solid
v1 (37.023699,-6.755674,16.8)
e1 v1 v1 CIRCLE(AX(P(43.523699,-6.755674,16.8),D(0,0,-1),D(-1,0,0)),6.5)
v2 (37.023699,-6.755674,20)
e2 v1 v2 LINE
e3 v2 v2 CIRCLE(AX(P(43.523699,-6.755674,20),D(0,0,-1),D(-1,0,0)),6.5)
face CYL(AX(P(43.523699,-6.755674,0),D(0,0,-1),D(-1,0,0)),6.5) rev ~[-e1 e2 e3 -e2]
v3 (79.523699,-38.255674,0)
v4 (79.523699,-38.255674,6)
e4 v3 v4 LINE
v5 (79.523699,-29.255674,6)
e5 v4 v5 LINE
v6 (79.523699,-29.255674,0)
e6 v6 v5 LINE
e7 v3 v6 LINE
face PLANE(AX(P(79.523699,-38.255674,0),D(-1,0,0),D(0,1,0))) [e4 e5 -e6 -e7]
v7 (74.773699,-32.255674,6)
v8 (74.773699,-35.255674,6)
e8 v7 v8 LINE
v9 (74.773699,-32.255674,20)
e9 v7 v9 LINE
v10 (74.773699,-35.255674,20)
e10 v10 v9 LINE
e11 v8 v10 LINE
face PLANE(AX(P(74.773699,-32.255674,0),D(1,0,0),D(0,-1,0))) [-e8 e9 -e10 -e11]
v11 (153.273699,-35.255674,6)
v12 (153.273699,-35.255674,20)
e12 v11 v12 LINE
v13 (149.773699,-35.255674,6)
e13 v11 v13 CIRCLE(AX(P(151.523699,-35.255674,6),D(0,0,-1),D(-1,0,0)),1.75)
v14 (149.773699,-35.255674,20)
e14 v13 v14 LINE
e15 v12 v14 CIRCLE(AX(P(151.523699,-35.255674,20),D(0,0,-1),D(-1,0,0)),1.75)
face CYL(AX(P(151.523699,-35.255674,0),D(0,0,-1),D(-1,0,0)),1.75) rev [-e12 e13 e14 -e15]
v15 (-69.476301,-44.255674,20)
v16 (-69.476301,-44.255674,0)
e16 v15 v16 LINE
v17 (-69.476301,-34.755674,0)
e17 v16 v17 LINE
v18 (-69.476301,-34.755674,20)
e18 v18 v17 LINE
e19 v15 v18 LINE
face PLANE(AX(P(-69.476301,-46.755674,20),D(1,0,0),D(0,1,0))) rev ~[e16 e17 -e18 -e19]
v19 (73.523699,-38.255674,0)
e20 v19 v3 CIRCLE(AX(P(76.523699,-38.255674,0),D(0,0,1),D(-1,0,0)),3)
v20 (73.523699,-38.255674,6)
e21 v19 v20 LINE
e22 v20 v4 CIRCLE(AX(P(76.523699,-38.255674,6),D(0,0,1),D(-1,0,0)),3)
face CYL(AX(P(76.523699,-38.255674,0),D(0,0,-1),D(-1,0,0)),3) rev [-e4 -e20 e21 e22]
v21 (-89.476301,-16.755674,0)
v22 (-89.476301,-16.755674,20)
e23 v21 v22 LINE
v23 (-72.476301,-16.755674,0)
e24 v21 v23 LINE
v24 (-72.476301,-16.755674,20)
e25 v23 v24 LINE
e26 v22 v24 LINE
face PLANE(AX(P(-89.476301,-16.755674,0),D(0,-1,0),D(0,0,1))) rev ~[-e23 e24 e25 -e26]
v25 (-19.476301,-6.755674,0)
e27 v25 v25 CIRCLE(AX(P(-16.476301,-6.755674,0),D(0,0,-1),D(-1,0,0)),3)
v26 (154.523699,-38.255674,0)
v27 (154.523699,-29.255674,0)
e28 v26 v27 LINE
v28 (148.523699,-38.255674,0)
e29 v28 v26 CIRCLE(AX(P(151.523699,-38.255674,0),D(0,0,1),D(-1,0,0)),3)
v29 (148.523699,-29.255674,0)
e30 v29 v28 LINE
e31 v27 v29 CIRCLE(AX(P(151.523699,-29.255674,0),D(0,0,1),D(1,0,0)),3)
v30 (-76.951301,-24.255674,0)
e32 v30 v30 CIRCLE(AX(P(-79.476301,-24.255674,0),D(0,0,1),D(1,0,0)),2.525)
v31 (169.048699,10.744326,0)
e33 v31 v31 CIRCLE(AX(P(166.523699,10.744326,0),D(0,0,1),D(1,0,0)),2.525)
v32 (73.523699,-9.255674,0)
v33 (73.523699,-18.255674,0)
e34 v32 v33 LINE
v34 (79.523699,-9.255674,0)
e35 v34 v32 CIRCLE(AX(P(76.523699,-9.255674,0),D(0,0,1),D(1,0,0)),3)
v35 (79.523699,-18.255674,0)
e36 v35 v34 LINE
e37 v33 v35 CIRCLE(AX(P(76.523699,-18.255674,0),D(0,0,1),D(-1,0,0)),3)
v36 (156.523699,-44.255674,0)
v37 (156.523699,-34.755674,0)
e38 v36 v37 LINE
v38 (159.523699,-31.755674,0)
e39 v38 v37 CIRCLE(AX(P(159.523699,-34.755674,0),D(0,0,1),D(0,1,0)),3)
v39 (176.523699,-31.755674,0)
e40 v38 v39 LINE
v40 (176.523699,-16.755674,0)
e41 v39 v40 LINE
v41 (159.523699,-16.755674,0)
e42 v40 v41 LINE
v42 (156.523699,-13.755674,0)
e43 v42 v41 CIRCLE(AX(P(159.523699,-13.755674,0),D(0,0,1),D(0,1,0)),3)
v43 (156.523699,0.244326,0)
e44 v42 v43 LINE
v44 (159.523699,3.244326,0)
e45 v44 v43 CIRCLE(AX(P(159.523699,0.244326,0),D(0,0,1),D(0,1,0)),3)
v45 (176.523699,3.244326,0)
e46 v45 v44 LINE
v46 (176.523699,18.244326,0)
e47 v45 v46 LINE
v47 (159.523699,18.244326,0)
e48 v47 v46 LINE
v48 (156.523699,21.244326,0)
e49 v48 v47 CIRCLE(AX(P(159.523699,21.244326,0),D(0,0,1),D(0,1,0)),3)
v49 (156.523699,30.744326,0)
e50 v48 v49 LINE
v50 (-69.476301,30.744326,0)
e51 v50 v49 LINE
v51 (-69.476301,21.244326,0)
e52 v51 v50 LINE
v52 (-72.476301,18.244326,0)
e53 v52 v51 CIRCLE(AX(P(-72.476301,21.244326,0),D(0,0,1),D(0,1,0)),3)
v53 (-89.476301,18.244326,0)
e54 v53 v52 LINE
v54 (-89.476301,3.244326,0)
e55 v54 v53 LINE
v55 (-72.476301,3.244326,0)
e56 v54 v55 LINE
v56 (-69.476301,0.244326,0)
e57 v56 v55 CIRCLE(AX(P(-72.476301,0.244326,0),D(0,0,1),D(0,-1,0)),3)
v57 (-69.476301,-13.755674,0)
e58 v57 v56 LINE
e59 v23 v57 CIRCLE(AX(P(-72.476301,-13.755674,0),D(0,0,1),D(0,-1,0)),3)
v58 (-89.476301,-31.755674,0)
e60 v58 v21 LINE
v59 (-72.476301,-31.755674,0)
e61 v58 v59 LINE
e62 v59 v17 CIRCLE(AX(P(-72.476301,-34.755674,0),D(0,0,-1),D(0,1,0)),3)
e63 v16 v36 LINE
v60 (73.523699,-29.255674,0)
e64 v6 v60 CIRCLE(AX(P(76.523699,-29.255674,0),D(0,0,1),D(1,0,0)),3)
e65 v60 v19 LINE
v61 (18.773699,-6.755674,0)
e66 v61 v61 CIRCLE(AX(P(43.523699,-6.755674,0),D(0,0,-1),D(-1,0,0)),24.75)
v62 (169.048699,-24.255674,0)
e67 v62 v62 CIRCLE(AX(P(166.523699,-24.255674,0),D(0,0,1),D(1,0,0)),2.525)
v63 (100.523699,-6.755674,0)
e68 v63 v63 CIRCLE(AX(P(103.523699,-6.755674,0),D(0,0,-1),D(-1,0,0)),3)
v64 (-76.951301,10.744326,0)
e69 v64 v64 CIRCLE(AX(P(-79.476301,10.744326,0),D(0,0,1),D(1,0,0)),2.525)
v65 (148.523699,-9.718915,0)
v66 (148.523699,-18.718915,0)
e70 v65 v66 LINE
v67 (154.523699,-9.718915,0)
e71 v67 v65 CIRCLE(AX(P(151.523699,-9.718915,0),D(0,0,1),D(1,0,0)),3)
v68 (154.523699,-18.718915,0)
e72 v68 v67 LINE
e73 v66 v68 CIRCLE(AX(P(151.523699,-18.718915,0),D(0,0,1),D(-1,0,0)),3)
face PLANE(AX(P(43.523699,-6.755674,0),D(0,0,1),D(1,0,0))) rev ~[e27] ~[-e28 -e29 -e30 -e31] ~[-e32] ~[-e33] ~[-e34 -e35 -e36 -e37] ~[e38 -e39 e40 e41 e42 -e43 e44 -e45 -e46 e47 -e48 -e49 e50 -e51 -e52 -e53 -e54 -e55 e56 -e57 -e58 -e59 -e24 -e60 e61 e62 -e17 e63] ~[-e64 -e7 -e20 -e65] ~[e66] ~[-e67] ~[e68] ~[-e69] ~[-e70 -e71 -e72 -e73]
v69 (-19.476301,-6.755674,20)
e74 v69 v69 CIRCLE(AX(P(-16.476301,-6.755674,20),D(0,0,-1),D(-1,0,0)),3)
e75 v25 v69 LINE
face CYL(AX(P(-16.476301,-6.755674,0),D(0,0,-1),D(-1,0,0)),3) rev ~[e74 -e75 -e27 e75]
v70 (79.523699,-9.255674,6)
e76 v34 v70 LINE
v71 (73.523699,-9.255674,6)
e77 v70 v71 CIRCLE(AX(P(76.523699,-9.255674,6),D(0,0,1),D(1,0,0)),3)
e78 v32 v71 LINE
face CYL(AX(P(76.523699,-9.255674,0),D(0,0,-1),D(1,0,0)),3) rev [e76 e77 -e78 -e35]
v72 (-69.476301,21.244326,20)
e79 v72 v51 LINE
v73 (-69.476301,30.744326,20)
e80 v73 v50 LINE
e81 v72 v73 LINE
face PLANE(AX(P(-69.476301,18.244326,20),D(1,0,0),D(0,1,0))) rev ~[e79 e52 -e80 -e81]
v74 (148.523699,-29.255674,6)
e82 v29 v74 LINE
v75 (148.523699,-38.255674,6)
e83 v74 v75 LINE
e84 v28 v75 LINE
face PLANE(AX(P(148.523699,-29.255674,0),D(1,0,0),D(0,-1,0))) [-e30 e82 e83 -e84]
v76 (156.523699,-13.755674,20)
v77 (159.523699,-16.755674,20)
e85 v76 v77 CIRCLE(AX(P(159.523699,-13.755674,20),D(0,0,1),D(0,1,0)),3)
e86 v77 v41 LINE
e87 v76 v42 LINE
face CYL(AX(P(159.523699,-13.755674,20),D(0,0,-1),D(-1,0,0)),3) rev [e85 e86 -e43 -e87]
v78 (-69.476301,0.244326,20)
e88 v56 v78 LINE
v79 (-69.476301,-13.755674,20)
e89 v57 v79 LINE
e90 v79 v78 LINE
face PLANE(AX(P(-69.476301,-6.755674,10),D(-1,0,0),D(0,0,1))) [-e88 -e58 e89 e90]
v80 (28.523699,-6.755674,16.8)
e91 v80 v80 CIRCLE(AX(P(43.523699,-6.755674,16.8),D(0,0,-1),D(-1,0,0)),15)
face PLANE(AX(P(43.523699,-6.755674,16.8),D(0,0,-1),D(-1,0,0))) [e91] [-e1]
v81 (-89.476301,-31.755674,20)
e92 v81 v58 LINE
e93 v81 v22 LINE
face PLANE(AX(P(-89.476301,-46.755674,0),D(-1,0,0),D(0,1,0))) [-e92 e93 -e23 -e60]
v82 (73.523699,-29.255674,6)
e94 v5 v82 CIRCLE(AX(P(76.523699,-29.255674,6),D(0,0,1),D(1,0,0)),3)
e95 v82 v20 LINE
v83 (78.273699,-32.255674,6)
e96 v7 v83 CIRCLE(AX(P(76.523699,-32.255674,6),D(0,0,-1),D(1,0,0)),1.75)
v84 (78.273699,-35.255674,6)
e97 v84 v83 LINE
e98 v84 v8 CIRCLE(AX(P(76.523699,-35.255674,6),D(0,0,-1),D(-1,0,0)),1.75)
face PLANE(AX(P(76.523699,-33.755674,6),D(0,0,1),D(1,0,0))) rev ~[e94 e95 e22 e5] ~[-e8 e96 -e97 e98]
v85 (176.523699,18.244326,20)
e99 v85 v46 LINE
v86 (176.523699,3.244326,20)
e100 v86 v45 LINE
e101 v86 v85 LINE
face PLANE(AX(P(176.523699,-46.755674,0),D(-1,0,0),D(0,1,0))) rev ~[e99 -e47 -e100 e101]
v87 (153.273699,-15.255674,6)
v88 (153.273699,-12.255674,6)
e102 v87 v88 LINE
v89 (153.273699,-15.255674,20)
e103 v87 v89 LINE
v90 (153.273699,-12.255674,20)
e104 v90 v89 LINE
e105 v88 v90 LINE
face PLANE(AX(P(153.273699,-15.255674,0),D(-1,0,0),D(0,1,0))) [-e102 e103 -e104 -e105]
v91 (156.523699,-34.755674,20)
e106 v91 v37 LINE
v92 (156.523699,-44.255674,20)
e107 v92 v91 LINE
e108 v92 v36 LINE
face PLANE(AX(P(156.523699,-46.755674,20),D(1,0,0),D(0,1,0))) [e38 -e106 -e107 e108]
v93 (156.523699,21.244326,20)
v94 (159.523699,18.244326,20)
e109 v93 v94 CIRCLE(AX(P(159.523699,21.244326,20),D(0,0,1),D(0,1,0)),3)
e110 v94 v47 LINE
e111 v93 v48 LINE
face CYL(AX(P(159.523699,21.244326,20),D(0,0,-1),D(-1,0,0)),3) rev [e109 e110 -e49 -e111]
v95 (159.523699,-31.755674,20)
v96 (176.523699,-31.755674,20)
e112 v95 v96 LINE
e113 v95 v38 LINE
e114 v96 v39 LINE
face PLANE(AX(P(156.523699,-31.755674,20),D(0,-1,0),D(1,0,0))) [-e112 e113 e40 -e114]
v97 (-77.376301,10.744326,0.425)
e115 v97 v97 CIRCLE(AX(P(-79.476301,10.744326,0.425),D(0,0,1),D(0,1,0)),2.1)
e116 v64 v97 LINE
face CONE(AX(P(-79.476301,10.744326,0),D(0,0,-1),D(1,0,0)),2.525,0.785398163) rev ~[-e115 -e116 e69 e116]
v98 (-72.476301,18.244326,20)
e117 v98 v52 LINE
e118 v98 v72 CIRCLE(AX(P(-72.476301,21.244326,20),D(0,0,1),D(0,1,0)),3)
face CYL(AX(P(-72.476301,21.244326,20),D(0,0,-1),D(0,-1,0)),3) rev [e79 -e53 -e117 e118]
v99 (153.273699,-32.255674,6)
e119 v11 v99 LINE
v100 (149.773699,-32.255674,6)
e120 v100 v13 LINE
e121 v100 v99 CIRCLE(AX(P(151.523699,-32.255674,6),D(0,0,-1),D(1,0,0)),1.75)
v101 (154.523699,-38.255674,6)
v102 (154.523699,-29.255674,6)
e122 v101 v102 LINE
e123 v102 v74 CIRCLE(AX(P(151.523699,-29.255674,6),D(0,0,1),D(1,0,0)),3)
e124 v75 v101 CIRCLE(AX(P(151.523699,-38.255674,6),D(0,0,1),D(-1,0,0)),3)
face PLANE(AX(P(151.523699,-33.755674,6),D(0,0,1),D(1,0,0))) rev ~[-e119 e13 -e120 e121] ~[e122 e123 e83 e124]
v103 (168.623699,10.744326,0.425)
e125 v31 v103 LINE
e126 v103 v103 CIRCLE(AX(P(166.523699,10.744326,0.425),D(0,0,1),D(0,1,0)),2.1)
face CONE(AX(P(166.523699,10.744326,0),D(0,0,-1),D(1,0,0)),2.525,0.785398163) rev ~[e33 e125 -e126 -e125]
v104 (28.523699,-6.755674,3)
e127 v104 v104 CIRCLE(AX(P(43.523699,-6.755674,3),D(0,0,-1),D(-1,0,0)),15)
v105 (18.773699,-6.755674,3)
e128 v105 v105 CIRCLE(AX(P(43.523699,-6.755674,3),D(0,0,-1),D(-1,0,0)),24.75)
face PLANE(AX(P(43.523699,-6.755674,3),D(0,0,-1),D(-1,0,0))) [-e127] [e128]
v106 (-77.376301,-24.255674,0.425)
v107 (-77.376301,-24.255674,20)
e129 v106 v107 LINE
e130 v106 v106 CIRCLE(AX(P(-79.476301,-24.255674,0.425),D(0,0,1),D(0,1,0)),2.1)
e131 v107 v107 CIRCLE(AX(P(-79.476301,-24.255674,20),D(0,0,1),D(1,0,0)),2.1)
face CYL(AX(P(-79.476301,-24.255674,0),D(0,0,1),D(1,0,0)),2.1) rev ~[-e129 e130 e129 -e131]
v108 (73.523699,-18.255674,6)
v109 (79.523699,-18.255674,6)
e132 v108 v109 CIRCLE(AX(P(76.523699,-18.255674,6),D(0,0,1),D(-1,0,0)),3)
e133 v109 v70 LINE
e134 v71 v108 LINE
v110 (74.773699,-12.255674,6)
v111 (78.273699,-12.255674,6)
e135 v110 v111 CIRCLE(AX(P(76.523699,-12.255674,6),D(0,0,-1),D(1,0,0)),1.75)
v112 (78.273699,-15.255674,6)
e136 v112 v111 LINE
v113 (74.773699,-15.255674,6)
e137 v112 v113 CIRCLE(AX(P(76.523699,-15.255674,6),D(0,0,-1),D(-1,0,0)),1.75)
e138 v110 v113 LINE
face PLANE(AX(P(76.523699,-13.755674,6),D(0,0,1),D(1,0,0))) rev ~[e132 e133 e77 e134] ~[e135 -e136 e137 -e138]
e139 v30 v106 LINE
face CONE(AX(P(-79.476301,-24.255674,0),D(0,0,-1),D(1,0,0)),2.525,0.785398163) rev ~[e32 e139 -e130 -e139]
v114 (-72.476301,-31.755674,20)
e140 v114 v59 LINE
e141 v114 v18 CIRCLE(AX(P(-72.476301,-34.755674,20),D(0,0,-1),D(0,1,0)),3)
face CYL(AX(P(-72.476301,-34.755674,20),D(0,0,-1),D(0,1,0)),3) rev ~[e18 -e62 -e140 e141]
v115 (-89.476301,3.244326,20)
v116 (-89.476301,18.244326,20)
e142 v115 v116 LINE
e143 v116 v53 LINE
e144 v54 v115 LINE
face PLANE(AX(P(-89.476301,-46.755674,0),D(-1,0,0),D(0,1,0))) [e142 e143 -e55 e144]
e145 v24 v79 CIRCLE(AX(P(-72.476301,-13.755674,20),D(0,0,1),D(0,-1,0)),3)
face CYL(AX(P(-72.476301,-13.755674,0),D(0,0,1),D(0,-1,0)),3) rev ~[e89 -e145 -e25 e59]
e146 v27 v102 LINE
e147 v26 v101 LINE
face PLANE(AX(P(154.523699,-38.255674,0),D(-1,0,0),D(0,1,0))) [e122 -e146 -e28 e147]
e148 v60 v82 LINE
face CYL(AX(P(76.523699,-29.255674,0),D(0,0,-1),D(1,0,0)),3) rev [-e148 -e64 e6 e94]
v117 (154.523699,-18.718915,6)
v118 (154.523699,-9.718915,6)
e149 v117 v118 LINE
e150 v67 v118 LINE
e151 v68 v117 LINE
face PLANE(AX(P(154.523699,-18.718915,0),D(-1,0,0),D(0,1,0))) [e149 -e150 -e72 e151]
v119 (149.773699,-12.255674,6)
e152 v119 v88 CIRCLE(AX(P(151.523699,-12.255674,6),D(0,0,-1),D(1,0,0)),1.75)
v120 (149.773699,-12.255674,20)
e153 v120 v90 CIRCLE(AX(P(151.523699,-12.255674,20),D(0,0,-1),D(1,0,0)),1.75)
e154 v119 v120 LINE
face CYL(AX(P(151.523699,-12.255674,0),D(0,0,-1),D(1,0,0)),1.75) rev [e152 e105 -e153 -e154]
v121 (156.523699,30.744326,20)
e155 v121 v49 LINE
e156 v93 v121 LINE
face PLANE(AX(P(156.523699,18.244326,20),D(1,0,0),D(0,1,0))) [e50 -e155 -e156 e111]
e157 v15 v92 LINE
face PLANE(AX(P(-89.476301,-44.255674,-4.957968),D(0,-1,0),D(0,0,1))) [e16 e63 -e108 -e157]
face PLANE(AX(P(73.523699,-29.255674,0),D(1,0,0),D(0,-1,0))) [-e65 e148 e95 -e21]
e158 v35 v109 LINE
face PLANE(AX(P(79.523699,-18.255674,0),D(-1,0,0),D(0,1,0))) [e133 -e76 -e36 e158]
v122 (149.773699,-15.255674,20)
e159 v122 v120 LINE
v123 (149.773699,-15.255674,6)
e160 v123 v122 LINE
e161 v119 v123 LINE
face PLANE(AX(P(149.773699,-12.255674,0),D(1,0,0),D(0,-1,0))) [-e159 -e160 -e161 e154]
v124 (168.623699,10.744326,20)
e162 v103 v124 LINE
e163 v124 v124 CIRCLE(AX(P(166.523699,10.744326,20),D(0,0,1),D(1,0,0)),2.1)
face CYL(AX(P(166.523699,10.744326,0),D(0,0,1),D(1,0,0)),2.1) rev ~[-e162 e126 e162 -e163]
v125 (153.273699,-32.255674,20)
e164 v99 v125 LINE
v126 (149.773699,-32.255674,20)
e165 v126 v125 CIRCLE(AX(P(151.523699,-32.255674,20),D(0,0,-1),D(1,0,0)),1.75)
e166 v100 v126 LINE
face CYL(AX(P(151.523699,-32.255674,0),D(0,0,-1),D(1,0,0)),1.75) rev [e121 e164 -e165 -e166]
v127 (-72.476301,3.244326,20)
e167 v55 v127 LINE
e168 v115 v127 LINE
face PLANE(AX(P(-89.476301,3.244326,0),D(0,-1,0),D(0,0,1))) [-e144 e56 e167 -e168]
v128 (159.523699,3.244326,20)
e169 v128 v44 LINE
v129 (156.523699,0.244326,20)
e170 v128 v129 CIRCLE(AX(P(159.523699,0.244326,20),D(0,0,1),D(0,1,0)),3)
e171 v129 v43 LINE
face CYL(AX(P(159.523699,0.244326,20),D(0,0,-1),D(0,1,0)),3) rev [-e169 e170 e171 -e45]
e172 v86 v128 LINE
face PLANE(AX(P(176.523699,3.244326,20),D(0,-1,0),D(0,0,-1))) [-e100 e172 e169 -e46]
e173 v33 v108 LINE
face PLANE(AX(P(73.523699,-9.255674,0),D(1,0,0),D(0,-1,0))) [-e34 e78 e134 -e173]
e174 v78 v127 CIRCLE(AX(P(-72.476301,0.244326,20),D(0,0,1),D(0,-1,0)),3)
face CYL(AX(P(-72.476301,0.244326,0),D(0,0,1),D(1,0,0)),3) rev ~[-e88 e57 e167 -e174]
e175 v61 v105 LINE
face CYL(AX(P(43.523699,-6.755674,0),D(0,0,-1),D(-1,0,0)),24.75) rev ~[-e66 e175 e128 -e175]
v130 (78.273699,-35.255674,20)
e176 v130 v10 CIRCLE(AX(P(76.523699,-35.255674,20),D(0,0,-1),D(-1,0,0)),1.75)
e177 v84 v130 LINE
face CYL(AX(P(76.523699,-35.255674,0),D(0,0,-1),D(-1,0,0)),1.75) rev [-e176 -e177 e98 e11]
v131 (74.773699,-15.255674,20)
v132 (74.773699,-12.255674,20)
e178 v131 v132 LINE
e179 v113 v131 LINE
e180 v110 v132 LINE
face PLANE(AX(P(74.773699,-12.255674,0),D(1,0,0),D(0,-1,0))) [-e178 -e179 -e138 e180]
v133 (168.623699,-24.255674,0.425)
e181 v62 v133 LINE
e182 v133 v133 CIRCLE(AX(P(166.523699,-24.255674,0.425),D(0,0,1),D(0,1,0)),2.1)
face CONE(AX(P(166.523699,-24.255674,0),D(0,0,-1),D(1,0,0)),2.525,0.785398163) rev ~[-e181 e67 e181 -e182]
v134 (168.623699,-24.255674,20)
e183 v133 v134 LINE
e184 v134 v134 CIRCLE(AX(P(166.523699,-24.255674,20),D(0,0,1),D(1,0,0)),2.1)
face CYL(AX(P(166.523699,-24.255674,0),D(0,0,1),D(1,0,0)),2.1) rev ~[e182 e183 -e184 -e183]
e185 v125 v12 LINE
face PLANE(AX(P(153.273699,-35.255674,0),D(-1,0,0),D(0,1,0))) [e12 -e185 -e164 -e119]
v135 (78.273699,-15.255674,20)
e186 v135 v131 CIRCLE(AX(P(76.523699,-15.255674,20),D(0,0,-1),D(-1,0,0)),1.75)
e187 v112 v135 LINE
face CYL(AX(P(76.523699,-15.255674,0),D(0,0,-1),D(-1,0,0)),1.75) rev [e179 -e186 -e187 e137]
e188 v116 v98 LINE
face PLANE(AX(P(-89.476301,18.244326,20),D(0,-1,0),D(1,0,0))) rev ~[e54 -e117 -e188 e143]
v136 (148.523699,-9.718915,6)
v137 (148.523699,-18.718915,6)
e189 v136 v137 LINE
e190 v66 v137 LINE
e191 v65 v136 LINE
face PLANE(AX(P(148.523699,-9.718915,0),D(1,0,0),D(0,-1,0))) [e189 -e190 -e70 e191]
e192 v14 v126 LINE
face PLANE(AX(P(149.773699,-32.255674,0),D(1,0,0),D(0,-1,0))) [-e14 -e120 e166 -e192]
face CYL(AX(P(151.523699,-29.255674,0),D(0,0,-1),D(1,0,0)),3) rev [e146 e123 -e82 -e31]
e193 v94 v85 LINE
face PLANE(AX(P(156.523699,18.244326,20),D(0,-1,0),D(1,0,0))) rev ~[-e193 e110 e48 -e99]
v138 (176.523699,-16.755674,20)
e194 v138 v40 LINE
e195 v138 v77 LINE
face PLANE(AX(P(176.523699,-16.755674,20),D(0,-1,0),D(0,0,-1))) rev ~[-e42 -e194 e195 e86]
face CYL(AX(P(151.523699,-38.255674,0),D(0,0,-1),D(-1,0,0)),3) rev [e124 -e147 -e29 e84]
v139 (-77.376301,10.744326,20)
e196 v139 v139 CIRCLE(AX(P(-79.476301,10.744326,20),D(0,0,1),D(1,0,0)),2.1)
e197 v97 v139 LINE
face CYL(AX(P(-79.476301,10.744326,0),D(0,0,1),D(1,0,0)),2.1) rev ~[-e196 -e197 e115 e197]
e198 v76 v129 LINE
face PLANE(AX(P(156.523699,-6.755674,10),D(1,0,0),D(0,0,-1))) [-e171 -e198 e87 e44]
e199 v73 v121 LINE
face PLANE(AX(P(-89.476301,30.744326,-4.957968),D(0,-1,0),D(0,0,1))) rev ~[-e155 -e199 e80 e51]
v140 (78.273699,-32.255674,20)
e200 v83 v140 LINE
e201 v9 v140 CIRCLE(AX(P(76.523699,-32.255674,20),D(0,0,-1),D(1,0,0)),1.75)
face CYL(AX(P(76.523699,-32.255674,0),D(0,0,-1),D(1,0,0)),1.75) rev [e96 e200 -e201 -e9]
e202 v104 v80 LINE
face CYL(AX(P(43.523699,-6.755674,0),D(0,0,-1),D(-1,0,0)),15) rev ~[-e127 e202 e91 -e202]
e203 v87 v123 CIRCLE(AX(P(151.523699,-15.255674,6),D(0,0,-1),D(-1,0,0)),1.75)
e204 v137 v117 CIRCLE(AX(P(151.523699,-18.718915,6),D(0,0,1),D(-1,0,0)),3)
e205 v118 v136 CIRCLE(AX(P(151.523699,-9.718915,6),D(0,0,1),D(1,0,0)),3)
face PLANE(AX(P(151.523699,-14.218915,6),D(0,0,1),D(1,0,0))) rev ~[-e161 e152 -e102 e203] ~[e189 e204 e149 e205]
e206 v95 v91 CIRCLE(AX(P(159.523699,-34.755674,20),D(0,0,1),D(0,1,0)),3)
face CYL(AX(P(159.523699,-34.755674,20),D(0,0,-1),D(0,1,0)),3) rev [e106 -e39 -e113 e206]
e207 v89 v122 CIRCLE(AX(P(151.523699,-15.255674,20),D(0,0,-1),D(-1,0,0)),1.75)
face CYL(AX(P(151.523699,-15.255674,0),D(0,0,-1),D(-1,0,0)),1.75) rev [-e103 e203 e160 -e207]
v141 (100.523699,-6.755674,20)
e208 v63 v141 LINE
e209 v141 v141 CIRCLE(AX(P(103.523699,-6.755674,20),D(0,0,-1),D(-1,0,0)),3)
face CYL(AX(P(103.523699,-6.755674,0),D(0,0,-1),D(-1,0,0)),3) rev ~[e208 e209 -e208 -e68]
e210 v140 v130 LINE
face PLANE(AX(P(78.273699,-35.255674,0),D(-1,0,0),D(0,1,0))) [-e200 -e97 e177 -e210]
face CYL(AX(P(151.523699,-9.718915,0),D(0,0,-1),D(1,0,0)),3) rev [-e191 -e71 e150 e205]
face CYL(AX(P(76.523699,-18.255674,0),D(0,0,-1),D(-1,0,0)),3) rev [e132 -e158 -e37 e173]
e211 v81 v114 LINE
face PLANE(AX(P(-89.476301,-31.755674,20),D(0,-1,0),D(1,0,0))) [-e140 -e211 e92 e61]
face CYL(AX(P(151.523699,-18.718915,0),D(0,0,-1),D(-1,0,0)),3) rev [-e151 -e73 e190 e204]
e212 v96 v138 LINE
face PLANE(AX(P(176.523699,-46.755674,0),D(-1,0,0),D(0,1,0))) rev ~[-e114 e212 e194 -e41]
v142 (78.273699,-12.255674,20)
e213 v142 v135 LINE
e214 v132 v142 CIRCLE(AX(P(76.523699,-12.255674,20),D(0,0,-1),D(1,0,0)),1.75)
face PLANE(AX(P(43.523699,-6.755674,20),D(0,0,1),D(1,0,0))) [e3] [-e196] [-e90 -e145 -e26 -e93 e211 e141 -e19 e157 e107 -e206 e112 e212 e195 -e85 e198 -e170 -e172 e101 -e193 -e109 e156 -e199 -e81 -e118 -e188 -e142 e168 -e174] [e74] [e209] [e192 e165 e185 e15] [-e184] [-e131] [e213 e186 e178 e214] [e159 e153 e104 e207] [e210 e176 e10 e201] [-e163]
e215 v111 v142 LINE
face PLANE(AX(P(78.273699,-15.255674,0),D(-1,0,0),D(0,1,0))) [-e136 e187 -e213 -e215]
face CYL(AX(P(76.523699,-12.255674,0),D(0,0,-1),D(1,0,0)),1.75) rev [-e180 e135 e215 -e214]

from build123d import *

# Parameters (mm, degrees)
SKIZZE1_W                        = 266
SKIZZE1_H                        = 80
AUFSATZ_LINEAR_AUSTRAGEN1_DEPTH  = 20
SKIZZE4_R                        = 6.5
SCHNITT_LINEAR_AUSTRAGEN1_DEPTH  = 20
SKIZZE9_R                        = 15
SCHNITT_LINEAR_AUSTRAGEN5_DEPTH  = 16.8
SKIZZE10_W                       = 20
SKIZZE10_H                       = 15
SCHNITT_LINEAR_AUSTRAGEN6_DEPTH  = 24.3
SKIZZE11_W                       = 91.383535354
SKIZZE11_H                       = 106.650454953
SKIZZE11_W_2                     = 30.220228655
SKIZZE11_H_2                     = 75
SCHNITT_LINEAR_AUSTRAGEN7_DEPTH  = 304.3
SKIZZE12_R                       = 24.75
SCHNITT_LINEAR_AUSTRAGEN8_DEPTH  = 3
SKIZZE13_W                       = 20
SKIZZE13_H                       = 20
SCHNITT_LINEAR_AUSTRAGEN10_DEPTH = 20
VERRUNDUNG1_R                    = 3
SKIZZE14_W                       = 20
SKIZZE14_H                       = 20
SCHNITT_LINEAR_AUSTRAGEN11_DEPTH = 20
VERRUNDUNG2_R                    = 3
SKIZZE15_R                       = 2
SCHNITT_LINEAR_AUSTRAGEN12_DEPTH = 20
M5_GEWINDEBOHRUNG1_D             = 4.2
M5_GEWINDEBOHRUNG1_CSINK_D       = 5.05
M5_GEWINDEBOHRUNG1_CSINK_ANGLE   = 90
SCHNITT_LINEAR_AUSTRAGEN13_DEPTH = 30
SCHNITT_LINEAR_AUSTRAGEN14_DEPTH = 6
SKIZZE19_R                       = 3
SCHNITT_LINEAR_AUSTRAGEN15_DEPTH = 20


with BuildPart() as part:
    # Skizze1 → Aufsatz-Linear austragen1 (new body)
    with BuildSketch(Plane.XY):
        with Locations((43.523698588, -6.755674232)):
            Rectangle(SKIZZE1_W, SKIZZE1_H)
    extrude(amount=AUFSATZ_LINEAR_AUSTRAGEN1_DEPTH)

    # Skizze4 → Schnitt-Linear austragen1 (cut)
    with BuildSketch(Plane(origin=(0, 0, 0), x_dir=(-1, 0, 0), z_dir=(0, 0, -1))):
        with Locations((-43.523698588, -6.755674232)):
            Circle(SKIZZE4_R)
    extrude(amount=-SCHNITT_LINEAR_AUSTRAGEN1_DEPTH, mode=Mode.SUBTRACT)

    # Skizze9 → Schnitt-Linear austragen5 (cut)
    with BuildSketch(Plane(origin=(0, 0, 0), x_dir=(-1, 0, 0), z_dir=(0, 0, -1))):
        with Locations((-43.523698588, -6.755674232)):
            Circle(SKIZZE9_R)
    extrude(amount=-SCHNITT_LINEAR_AUSTRAGEN5_DEPTH, mode=Mode.SUBTRACT)

    # Skizze10 → Schnitt-Linear austragen6 (cut)
    with BuildSketch(Plane.XY.offset(20)):
        with Locations((-79.476301412, 25.744325768)):
            Rectangle(SKIZZE10_W, SKIZZE10_H)
        with Locations((-79.476301412, -39.255674232)):
            Rectangle(SKIZZE10_W, SKIZZE10_H)
        with Locations((166.523698588, -39.255674232)):
            Rectangle(SKIZZE10_W, SKIZZE10_H)
        with Locations((166.523698588, 25.744325768)):
            Rectangle(SKIZZE10_W, SKIZZE10_H)
    extrude(amount=-SCHNITT_LINEAR_AUSTRAGEN6_DEPTH, mode=Mode.SUBTRACT)

    # Skizze11 → Schnitt-Linear austragen7 (cut)
    with BuildSketch(Plane.ZY.offset(89.476301412)):
        with Locations((10.152146704, -6.755674232)):
            Rectangle(SKIZZE11_W, SKIZZE11_H)
        with Locations((10.152146705, -6.755674232)):
            Rectangle(SKIZZE11_W_2, SKIZZE11_H_2, mode=Mode.SUBTRACT)
    extrude(amount=-SCHNITT_LINEAR_AUSTRAGEN7_DEPTH, mode=Mode.SUBTRACT)

    # Skizze12 → Schnitt-Linear austragen8 (cut)
    with BuildSketch(Plane(origin=(0, 0, 0), x_dir=(-1, 0, 0), z_dir=(0, 0, -1))):
        with Locations((-43.523698588, -6.755674232)):
            Circle(SKIZZE12_R)
    extrude(amount=-SCHNITT_LINEAR_AUSTRAGEN8_DEPTH, mode=Mode.SUBTRACT)

    # Skizze13 → Schnitt-Linear austragen10 (cut)
    with BuildSketch(Plane.ZY.offset(89.476301412)):
        with Locations((10, -6.755674232)):
            Rectangle(SKIZZE13_W, SKIZZE13_H)
    extrude(amount=-SCHNITT_LINEAR_AUSTRAGEN10_DEPTH, mode=Mode.SUBTRACT)

    # Verrundung1
    verrundung1_edges = [part.edges().sort_by_distance(p)[0] for p in [
        (-69.476301412, 3.244325768, 10),
        (-69.476301412, -16.755674232, 10),
        (-69.476301412, -31.755674232, 10),
        (-69.476301412, 18.244325768, 10),
    ]]
    fillet(verrundung1_edges, radius=VERRUNDUNG1_R)

    # Skizze14 → Schnitt-Linear austragen11 (cut)
    with BuildSketch(Plane(origin=(176.523698588, 0, 0), x_dir=(0, 0, -1), z_dir=(1, 0, 0))):
        with Locations((-10, -6.755674232)):
            Rectangle(SKIZZE14_W, SKIZZE14_H)
    extrude(amount=-SCHNITT_LINEAR_AUSTRAGEN11_DEPTH, mode=Mode.SUBTRACT)

    # Verrundung2
    verrundung2_edges = [part.edges().sort_by_distance(p)[0] for p in [
        (156.523698588, 3.244325768, 10),
        (156.523698588, -16.755674232, 10),
        (156.523698588, 18.244325768, 10),
        (156.523698588, -31.755674232, 10),
    ]]
    fillet(verrundung2_edges, radius=VERRUNDUNG2_R)

    # Skizze15 → Schnitt-Linear austragen12 (cut)
    with BuildSketch(Plane(origin=(0, 0, 0), x_dir=(-1, 0, 0), z_dir=(0, 0, -1))):
        with Locations((79.476301412, 10.744325768)):
            Circle(SKIZZE15_R)
        with Locations((79.476301412, -24.255674232)):
            Circle(SKIZZE15_R)
        with Locations((-166.523698588, 10.744325768)):
            Circle(SKIZZE15_R)
        with Locations((-166.523698588, -24.255674232)):
            Circle(SKIZZE15_R)
    extrude(amount=-SCHNITT_LINEAR_AUSTRAGEN12_DEPTH, mode=Mode.SUBTRACT)

    # M5 Gewindebohrung1 (through all)
    with Locations(Plane(origin=(166.523698588, 10.744325768, 0), x_dir=(-1, 0, 0), z_dir=(0, 0, -1))):
        with Locations((0, 0), (0, -35), (246, 0), (246, -35)):
            CounterSinkHole(M5_GEWINDEBOHRUNG1_D / 2, M5_GEWINDEBOHRUNG1_CSINK_D / 2, counter_sink_angle=M5_GEWINDEBOHRUNG1_CSINK_ANGLE)

    # Skizze17 → Schnitt-Linear austragen13 (cut)
    with BuildSketch(Plane(origin=(0, 0, 0), x_dir=(-1, 0, 0), z_dir=(0, 0, -1))):
        with BuildLine():
            Line((-149.773698588, -12.255674232), (-149.773698588, -15.255674232))
            ThreePointArc((-149.773698588, -15.255674232), (-151.523698588, -17.005674232), (-153.273698588, -15.255674232))
            Line((-153.273698588, -15.255674232), (-153.273698588, -12.255674232))
            ThreePointArc((-153.273698588, -12.255674232), (-151.523698588, -10.505674232), (-149.773698588, -12.255674232))
        make_face()
        with BuildLine():
            Line((-74.773698588, -12.255674232), (-74.773698588, -15.255674232))
            ThreePointArc((-74.773698588, -15.255674232), (-76.523698588, -17.005674232), (-78.273698588, -15.255674232))
            Line((-78.273698588, -15.255674232), (-78.273698588, -12.255674232))
            ThreePointArc((-78.273698588, -12.255674232), (-76.523698588, -10.505674232), (-74.773698588, -12.255674232))
        make_face()
        with BuildLine():
            Line((-74.773698588, -32.255674232), (-74.773698588, -35.255674232))
            ThreePointArc((-74.773698588, -35.255674232), (-76.523698588, -37.005674232), (-78.273698588, -35.255674232))
            Line((-78.273698588, -35.255674232), (-78.273698588, -32.255674232))
            ThreePointArc((-78.273698588, -32.255674232), (-76.523698588, -30.505674232), (-74.773698588, -32.255674232))
        make_face()
        with BuildLine():
            Line((-149.773698588, -32.255674232), (-149.773698588, -35.255674232))
            ThreePointArc((-149.773698588, -35.255674232), (-151.523698588, -37.005674232), (-153.273698588, -35.255674232))
            Line((-153.273698588, -35.255674232), (-153.273698588, -32.255674232))
            ThreePointArc((-153.273698588, -32.255674232), (-151.523698588, -30.505674232), (-149.773698588, -32.255674232))
        make_face()
    extrude(amount=-SCHNITT_LINEAR_AUSTRAGEN13_DEPTH, mode=Mode.SUBTRACT)

    # Skizze18 → Schnitt-Linear austragen14 (cut)
    with BuildSketch(Plane(origin=(0, 0, 0), x_dir=(-1, 0, 0), z_dir=(0, 0, -1))):
        with BuildLine():
            Line((-148.523698588, -9.718914621), (-148.523698588, -18.718914621))
            ThreePointArc((-148.523698588, -18.718914621), (-151.523698588, -21.718914621), (-154.523698588, -18.718914621))
            Line((-154.523698588, -18.718914621), (-154.523698588, -9.718914621))
            ThreePointArc((-154.523698588, -9.718914621), (-151.523698588, -6.718914621), (-148.523698588, -9.718914621))
        make_face()
        with BuildLine():
            Line((-148.523698588, -29.255674232), (-148.523698588, -38.255674232))
            ThreePointArc((-148.523698588, -38.255674232), (-151.523698588, -41.255674232), (-154.523698588, -38.255674232))
            Line((-154.523698588, -38.255674232), (-154.523698588, -29.255674232))
            ThreePointArc((-154.523698588, -29.255674232), (-151.523698588, -26.255674232), (-148.523698588, -29.255674232))
        make_face()
        with BuildLine():
            Line((-73.523698588, -9.255674232), (-73.523698588, -18.255674232))
            ThreePointArc((-73.523698588, -18.255674232), (-76.523698588, -21.255674232), (-79.523698588, -18.255674232))
            Line((-79.523698588, -18.255674232), (-79.523698588, -9.255674232))
            ThreePointArc((-79.523698588, -9.255674232), (-76.523698588, -6.255674232), (-73.523698588, -9.255674232))
        make_face()
        with BuildLine():
            Line((-73.523698588, -29.255674232), (-73.523698588, -38.255674232))
            ThreePointArc((-73.523698588, -38.255674232), (-76.523698588, -41.255674232), (-79.523698588, -38.255674232))
            Line((-79.523698588, -38.255674232), (-79.523698588, -29.255674232))
            ThreePointArc((-79.523698588, -29.255674232), (-76.523698588, -26.255674232), (-73.523698588, -29.255674232))
        make_face()
    extrude(amount=-SCHNITT_LINEAR_AUSTRAGEN14_DEPTH, mode=Mode.SUBTRACT)

    # Skizze19 → Schnitt-Linear austragen15 (cut)
    with BuildSketch(Plane(origin=(0, 0, 0), x_dir=(-1, 0, 0), z_dir=(0, 0, -1))):
        with Locations((16.476301412, -6.755674232)):
            Circle(SKIZZE19_R)
        with Locations((-103.523698588, -6.755674232)):
            Circle(SKIZZE19_R)
    extrude(amount=-SCHNITT_LINEAR_AUSTRAGEN15_DEPTH, mode=Mode.SUBTRACT)


solid = part.part
